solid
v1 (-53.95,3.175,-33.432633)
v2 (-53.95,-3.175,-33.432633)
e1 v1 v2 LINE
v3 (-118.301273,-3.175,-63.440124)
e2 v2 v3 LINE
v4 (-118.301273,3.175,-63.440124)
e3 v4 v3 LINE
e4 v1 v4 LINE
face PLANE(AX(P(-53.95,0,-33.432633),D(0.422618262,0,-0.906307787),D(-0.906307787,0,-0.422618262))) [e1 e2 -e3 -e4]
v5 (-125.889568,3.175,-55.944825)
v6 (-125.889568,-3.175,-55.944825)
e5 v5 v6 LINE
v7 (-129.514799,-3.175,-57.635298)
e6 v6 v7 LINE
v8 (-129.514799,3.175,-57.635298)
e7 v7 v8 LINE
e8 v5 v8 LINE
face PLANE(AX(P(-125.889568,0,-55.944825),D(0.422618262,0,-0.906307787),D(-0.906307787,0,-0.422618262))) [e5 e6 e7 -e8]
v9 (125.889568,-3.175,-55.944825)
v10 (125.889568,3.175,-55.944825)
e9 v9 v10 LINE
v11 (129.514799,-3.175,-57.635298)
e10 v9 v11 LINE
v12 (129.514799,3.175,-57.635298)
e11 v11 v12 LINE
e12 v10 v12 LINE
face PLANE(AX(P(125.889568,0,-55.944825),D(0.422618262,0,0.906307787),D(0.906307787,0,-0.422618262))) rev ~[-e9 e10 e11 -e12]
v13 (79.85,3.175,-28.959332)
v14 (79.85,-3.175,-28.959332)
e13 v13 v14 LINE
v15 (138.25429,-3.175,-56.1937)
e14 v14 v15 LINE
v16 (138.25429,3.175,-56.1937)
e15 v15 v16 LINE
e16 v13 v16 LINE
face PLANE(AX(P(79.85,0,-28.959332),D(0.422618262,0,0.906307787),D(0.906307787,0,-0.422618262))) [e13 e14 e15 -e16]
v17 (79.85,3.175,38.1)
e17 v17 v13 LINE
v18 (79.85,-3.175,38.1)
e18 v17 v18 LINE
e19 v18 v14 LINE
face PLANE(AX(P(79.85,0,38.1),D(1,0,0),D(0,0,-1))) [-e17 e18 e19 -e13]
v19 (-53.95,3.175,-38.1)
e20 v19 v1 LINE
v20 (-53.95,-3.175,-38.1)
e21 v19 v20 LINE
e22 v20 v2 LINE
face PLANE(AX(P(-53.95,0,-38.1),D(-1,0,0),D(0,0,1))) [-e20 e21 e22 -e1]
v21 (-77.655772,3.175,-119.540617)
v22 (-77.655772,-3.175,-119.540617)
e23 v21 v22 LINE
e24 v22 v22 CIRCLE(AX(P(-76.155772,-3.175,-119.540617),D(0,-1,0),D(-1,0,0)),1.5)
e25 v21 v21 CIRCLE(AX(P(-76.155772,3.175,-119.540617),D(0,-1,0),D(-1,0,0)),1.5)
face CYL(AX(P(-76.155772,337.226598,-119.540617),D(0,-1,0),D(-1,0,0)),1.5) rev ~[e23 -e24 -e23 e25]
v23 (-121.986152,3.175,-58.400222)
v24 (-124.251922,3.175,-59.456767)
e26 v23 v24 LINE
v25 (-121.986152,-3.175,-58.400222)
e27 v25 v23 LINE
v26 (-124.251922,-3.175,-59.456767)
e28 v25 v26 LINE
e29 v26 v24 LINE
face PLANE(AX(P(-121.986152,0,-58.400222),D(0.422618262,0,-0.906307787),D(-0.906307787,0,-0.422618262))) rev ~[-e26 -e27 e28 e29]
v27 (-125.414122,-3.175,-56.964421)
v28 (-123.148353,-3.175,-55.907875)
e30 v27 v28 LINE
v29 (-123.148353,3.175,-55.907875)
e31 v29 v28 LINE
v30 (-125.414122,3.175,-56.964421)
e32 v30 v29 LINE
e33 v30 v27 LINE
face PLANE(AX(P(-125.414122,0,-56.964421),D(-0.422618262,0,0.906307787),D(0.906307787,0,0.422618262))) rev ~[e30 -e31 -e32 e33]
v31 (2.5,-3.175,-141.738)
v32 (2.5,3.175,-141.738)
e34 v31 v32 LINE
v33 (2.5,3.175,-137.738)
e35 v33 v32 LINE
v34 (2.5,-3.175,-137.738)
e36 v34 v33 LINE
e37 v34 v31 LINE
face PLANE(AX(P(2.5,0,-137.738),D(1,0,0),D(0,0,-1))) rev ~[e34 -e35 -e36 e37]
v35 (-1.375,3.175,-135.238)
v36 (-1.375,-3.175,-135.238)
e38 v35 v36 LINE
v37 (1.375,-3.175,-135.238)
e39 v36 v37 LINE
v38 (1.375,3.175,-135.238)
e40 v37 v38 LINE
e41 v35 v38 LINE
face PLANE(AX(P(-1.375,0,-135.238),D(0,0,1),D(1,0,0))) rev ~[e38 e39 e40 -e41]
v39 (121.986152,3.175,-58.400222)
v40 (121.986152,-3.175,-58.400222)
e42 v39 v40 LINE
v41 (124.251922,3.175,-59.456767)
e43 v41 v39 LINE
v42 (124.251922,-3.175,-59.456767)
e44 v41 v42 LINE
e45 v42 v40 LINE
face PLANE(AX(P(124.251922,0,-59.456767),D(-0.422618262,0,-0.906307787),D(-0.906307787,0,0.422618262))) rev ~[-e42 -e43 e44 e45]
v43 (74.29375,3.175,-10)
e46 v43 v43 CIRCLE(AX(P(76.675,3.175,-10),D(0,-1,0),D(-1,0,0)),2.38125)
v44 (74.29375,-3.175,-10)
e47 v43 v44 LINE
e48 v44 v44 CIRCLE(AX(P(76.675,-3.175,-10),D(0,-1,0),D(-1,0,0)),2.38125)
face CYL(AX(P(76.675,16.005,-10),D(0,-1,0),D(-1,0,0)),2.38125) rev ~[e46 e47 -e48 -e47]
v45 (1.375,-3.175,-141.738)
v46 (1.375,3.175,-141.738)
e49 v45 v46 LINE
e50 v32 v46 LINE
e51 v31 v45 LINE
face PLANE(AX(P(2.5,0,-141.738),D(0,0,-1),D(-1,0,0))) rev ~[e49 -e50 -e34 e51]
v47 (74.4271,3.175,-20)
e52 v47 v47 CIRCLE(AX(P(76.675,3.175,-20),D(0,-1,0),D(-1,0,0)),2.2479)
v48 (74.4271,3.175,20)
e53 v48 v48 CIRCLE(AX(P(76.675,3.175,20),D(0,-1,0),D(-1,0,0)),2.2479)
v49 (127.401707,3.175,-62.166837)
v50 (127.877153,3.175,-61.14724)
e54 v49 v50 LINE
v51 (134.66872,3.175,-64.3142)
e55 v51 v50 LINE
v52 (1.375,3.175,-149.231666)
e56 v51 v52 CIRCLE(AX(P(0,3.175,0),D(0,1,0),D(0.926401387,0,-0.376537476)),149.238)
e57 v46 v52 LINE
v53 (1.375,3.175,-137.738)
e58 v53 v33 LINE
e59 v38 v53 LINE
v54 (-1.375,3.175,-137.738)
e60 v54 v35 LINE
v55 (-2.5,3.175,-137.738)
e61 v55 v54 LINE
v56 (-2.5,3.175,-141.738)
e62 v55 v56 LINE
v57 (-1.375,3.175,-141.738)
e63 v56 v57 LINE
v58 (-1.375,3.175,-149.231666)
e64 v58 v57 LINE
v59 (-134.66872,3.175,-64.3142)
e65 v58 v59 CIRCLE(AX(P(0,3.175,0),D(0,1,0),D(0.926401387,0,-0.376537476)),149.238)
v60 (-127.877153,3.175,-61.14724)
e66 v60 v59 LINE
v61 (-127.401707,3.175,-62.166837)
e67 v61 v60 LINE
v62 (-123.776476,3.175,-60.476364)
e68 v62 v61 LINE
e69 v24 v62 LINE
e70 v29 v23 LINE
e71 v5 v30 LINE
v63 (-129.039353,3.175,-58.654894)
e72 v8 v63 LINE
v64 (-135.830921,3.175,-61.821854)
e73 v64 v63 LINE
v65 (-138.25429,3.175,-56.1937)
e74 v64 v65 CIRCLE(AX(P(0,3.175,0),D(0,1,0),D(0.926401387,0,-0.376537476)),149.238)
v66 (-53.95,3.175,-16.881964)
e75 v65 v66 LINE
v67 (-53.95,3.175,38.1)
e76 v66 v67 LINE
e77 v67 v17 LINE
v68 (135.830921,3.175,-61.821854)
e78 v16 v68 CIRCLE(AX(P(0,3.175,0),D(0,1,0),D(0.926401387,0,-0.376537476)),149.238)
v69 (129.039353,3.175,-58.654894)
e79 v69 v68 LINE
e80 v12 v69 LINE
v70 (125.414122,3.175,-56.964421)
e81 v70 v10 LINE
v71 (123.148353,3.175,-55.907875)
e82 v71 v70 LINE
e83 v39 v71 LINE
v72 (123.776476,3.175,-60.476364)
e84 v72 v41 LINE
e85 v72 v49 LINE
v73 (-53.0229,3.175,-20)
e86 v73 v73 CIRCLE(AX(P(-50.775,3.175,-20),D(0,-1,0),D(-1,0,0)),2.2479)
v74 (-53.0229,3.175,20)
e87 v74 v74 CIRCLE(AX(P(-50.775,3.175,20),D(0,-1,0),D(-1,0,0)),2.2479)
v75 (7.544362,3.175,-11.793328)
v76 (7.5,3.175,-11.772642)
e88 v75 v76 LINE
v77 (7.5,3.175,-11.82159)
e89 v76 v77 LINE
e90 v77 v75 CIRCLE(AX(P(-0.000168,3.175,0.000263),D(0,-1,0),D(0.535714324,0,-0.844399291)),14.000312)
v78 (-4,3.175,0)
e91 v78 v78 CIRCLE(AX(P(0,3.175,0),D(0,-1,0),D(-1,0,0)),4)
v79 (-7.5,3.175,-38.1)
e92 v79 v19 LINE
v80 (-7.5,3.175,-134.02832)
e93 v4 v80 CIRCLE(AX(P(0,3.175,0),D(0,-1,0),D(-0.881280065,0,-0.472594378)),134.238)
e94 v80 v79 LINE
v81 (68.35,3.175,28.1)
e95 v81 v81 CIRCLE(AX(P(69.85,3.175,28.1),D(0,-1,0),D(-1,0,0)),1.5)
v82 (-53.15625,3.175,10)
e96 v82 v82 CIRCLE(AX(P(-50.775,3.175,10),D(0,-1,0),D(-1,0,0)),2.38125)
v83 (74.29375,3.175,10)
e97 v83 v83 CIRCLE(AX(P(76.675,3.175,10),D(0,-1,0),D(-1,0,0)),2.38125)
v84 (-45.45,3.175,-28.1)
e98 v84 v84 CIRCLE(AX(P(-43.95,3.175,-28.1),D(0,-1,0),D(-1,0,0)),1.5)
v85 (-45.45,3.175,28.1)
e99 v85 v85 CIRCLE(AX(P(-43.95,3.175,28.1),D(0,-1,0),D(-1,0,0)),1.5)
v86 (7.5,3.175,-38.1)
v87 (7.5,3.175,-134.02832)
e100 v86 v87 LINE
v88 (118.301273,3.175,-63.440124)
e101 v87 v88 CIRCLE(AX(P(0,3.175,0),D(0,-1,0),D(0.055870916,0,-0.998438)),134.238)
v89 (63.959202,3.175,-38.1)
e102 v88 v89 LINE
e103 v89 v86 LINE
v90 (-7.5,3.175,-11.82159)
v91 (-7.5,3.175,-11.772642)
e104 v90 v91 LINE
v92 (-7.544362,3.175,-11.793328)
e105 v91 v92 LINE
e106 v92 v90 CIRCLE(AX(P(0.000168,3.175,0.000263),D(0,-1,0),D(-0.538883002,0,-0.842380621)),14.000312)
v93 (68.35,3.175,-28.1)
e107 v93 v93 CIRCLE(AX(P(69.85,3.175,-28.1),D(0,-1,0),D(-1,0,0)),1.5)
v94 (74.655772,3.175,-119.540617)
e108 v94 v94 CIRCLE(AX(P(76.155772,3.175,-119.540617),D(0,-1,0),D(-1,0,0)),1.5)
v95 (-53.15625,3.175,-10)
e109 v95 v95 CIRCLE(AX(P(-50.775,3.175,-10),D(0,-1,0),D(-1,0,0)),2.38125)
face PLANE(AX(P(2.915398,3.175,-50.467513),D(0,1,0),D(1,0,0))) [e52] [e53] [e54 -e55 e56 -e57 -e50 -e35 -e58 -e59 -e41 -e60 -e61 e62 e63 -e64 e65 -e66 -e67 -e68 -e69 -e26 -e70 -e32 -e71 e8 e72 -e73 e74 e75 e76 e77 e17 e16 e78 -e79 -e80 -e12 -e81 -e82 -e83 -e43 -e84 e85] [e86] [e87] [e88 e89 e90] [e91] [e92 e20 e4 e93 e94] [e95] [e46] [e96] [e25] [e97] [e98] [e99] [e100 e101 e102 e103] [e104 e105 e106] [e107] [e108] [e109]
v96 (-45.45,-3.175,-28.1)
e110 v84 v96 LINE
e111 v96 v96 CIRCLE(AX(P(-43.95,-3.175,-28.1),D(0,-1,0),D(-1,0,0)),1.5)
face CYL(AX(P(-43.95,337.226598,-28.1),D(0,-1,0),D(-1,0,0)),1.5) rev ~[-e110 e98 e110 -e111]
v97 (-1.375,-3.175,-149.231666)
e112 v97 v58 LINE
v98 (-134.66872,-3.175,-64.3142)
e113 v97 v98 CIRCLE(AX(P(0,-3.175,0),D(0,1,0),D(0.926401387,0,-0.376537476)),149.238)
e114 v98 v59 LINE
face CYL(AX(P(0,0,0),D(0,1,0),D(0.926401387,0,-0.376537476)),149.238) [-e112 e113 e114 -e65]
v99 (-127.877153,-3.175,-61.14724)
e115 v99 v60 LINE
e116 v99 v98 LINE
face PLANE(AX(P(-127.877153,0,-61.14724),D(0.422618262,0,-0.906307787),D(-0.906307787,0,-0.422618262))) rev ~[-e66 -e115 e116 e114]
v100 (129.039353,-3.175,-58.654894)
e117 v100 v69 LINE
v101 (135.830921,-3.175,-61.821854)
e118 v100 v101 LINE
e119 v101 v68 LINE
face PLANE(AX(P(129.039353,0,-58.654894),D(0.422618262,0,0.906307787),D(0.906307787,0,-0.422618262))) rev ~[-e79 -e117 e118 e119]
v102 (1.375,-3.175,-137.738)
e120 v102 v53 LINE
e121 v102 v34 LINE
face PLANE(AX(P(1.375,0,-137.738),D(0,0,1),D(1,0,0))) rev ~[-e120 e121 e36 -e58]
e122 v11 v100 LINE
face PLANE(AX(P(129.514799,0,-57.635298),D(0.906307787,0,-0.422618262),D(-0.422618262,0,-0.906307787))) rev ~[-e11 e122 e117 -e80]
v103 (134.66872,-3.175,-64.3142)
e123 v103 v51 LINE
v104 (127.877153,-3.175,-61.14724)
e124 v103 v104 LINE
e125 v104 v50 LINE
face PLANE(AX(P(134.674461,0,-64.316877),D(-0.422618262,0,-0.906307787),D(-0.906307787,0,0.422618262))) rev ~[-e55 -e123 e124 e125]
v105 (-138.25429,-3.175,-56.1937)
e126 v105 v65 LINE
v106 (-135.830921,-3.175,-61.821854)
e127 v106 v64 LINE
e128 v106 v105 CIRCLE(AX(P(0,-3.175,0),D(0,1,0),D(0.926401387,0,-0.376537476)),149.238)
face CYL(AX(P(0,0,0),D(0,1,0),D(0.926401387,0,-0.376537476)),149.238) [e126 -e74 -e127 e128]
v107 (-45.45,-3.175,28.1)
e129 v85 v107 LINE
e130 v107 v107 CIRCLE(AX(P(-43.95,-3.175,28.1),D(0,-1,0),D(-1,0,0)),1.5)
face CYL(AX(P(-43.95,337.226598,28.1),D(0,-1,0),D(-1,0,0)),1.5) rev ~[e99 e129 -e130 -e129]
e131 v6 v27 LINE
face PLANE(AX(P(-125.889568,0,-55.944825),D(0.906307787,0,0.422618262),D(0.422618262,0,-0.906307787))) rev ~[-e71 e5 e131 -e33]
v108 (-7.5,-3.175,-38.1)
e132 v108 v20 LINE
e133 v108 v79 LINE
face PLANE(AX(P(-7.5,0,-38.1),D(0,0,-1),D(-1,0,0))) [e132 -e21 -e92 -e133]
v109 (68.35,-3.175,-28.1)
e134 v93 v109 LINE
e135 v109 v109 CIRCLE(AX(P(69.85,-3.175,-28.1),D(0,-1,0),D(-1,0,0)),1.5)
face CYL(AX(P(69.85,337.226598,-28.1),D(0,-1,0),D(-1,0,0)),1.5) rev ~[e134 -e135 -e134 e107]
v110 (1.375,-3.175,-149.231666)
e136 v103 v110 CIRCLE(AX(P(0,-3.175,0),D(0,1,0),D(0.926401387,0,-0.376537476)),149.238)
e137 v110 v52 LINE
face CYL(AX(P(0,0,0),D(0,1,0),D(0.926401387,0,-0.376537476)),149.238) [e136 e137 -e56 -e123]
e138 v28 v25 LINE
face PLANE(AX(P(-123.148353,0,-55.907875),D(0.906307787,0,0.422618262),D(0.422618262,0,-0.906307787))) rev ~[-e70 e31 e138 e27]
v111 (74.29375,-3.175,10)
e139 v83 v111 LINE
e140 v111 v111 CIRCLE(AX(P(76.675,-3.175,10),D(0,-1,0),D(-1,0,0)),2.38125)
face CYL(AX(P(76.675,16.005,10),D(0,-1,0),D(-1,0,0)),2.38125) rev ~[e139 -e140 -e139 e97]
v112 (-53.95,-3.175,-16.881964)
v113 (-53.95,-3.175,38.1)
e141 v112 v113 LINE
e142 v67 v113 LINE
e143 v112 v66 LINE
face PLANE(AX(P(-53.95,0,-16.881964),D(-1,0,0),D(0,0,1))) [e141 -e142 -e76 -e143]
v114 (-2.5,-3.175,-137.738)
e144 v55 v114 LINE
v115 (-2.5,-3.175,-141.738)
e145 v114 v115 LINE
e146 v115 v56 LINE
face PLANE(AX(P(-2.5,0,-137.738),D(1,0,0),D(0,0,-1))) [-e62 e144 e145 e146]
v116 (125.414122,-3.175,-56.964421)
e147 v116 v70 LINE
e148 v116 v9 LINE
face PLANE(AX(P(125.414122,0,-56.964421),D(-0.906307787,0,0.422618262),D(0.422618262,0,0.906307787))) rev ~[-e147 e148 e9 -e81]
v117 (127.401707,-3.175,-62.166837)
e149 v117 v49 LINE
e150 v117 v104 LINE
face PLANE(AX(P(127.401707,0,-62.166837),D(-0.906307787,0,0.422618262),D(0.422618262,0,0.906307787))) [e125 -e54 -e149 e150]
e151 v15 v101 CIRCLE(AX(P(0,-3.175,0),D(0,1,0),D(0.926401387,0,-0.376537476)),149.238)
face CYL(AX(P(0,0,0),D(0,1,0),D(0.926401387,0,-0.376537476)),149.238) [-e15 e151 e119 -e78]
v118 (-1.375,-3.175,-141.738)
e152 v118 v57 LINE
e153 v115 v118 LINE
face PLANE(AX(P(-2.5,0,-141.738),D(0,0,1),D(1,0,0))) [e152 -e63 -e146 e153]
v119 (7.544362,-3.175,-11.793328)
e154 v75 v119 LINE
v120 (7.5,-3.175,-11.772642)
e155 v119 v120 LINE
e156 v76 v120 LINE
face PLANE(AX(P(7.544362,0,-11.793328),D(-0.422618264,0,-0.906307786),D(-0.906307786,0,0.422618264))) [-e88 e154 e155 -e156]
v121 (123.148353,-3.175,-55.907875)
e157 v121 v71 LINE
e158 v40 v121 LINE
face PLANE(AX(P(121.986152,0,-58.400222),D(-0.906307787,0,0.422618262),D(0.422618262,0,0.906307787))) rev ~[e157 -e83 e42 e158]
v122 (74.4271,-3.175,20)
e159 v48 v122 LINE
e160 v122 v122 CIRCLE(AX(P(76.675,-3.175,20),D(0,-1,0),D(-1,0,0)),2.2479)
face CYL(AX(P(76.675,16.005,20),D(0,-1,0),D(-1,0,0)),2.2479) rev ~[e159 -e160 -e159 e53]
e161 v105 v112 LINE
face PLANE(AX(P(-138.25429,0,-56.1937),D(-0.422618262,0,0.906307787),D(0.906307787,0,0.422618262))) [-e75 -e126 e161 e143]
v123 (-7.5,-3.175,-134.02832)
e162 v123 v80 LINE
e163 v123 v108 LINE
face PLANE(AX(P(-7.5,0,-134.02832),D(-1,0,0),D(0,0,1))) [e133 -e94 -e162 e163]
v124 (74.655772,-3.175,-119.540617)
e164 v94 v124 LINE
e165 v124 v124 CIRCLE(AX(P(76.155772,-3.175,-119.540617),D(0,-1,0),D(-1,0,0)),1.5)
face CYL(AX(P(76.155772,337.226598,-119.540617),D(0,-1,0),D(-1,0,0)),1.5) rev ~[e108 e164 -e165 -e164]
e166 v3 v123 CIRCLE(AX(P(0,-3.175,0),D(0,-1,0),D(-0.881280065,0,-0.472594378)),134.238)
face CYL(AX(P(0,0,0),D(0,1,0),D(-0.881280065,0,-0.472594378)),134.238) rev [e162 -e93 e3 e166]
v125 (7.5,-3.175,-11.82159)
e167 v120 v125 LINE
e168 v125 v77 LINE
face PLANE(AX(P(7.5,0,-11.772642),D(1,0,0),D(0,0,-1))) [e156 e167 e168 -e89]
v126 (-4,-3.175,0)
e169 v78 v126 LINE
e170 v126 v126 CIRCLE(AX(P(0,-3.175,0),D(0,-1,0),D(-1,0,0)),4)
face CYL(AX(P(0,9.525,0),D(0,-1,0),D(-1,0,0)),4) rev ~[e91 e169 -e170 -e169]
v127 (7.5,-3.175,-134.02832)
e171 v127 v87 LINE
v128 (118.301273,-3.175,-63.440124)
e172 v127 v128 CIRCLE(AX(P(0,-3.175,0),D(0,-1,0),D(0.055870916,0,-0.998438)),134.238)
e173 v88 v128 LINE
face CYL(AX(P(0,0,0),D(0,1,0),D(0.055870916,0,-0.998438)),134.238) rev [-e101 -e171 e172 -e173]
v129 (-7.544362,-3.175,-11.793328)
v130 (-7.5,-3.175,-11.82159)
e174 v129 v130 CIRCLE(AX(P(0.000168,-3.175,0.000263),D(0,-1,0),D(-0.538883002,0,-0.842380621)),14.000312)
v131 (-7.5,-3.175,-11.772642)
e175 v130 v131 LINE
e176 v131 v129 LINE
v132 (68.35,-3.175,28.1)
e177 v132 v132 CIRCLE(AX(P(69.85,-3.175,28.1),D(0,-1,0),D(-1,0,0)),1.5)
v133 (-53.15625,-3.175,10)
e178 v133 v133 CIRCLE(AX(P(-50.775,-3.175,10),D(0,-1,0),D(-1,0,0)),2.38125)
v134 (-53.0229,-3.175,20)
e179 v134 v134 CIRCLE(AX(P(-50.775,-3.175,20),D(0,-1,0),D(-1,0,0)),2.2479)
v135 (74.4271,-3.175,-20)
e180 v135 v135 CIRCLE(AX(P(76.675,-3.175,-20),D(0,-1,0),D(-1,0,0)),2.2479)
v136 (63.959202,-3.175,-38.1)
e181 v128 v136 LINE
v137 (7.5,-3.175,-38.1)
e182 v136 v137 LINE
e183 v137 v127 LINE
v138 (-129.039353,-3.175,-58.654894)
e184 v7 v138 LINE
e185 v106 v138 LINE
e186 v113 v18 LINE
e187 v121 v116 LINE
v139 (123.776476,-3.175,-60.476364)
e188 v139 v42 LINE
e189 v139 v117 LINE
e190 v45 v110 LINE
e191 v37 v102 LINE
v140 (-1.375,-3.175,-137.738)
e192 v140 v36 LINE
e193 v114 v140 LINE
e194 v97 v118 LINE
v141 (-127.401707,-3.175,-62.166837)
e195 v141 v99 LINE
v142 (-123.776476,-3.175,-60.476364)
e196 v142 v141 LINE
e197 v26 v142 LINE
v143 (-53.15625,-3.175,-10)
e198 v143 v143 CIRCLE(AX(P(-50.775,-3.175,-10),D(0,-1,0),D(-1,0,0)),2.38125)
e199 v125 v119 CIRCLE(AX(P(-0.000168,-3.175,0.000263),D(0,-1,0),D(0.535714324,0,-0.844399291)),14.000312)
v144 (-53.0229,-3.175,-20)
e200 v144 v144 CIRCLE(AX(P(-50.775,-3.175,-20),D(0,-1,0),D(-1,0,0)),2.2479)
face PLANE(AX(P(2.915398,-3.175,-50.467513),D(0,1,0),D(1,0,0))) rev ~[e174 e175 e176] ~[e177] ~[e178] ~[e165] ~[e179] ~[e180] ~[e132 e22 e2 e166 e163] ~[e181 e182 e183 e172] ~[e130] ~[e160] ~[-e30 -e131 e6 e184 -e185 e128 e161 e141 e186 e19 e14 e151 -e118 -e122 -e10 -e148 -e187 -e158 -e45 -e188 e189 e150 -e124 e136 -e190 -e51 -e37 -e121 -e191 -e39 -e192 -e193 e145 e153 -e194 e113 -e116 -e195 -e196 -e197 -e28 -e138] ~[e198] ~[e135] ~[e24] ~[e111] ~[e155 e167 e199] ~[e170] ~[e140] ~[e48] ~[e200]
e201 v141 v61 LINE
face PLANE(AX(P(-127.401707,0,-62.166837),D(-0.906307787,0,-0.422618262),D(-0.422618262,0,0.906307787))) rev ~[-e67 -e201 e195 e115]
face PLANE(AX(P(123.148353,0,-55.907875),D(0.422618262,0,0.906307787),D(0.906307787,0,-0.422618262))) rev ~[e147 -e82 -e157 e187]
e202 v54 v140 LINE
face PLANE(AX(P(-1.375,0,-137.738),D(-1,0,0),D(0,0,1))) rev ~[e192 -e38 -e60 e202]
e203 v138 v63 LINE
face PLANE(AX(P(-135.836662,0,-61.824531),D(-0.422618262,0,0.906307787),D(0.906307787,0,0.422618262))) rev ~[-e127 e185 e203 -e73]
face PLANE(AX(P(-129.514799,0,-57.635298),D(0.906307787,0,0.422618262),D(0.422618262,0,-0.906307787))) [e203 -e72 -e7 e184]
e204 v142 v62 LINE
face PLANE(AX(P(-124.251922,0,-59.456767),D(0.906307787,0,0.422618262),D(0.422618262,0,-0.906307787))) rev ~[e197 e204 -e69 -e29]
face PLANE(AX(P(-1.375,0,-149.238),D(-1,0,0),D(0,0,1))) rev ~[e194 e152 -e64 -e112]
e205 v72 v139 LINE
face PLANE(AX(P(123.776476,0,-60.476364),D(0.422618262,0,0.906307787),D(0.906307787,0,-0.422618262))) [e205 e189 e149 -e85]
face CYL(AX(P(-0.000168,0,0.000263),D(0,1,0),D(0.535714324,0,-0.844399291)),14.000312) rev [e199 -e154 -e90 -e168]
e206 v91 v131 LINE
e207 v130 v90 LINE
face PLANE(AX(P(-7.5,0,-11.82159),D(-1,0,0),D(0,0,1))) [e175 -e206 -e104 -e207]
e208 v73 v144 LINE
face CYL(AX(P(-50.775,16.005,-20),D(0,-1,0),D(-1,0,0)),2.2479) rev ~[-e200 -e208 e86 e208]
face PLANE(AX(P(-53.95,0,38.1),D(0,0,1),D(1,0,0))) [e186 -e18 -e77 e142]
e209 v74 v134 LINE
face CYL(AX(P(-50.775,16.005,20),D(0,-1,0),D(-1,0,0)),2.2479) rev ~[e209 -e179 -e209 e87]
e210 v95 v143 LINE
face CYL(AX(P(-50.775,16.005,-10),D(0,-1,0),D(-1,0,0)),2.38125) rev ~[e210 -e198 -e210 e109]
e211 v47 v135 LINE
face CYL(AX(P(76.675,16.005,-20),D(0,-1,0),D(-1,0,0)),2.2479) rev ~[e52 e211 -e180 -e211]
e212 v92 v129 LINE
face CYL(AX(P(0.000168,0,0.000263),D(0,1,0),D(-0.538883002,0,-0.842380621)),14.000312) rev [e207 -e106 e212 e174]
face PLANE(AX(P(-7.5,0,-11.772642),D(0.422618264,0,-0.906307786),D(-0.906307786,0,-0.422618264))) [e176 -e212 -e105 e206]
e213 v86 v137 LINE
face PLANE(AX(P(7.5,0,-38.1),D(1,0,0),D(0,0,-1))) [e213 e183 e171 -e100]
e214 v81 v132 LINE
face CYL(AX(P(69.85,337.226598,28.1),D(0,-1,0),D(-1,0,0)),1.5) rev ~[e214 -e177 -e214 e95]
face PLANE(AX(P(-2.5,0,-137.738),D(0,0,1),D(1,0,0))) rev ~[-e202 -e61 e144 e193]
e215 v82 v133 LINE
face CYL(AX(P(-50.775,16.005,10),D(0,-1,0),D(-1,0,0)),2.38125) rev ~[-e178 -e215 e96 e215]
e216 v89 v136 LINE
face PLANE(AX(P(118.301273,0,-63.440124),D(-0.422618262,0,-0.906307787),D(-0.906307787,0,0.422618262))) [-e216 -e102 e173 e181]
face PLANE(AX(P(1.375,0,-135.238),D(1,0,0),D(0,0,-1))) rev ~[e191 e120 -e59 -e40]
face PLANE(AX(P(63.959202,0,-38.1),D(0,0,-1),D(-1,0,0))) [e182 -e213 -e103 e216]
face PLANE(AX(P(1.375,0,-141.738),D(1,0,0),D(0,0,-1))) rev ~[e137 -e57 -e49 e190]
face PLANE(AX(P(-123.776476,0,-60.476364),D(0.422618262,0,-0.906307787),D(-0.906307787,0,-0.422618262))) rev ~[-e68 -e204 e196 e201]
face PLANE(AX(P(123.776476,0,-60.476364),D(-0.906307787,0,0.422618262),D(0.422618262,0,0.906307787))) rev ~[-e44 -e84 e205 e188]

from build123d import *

# Parameters (mm, degrees)
BOSS_EXTRUDE1_DEPTH             = 3.175
SKETCH2_W                       = 2.75
SKETCH2_H                       = 2.5
SKETCH2_H_2                     = 4
SKETCH2_W_2                     = 1.125
SKETCH2_H_3                     = 7.5
CUT_EXTRUDE1_DEPTH              = 204.460831631
CIRPATTERN1_COUNT               = 2
CIRPATTERN1_ANGLE               = 65
CIRPATTERN1_THE_OTHER_WAY_COUNT = 2
CIRPATTERN1_THE_OTHER_WAY_ANGLE = 65
F_3_0_3_DIAMETER_HOLE1_D        = 3
F_8_0_8_DIAMETER_HOLE1_D        = 8
F_8_0_8_DIAMETER_HOLE1_DEPTH    = 6.35
F_8_CLEARANCE_HOLE1_D           = 4.4958
F_8_CLEARANCE_HOLE1_DEPTH       = 12.83
F_8_CLEARANCE_HOLE1_TIP         = 1.350674586
F_3_16_0_1875_DOWEL_HOLE1_D     = 4.7625
F_3_16_0_1875_DOWEL_HOLE1_DEPTH = 12.83
F_3_16_0_1875_DOWEL_HOLE1_TIP   = 1.430799349


with BuildPart() as part:
    # Sketch1 → Boss-Extrude1 (new, symmetric)
    with BuildSketch(Plane(origin=(0, 0, 0), x_dir=(1, 0, 0), z_dir=(0, 1, 0))):
        with BuildLine():
            Line((79.85, 28.959332111), (138.254290129, 56.193699868))
            ThreePointArc((138.254290129, 56.193699868), (0, 149.238), (-138.254290129, 56.193699868))
            Line((-138.254290129, 56.193699868), (-53.95, 16.881963765))
            Line((-53.95, 16.881963765), (-53.95, -38.1))
            Line((-53.95, -38.1), (79.85, -38.1))
            Line((79.85, -38.1), (79.85, 28.959332111))
        make_face()
        with BuildLine():
            Line((-7.5, 11.821590418), (-7.5, 11.772641828))
            Line((-7.5, 11.772641828), (-7.544362488, 11.793328396))
            ThreePointArc((-7.544362488, 11.793328396), (-7.522194517, 11.807480241), (-7.5, 11.821590418))
        make_face(mode=Mode.SUBTRACT)
        with BuildLine():
            ThreePointArc((7.5, 11.821590418), (7.522194517, 11.807480241), (7.544362488, 11.793328396))
            Line((7.544362488, 11.793328396), (7.5, 11.772641828))
            Line((7.5, 11.772641828), (7.5, 11.821590418))
        make_face(mode=Mode.SUBTRACT)
        with BuildLine():
            Line((-7.5, 134.028320306), (-7.5, 38.1))
            Line((-7.5, 38.1), (-53.95, 38.1))
            Line((-53.95, 38.1), (-53.95, 33.43263255))
            Line((-53.95, 33.43263255), (-118.301273414, 63.440124154))
            ThreePointArc((-118.301273414, 63.440124154), (-72.126024825, 113.215180903), (-7.5, 134.028320306))
        make_face(mode=Mode.SUBTRACT)
        with BuildLine():
            ThreePointArc((7.5, 134.028320306), (72.126024825, 113.215180903), (118.301273414, 63.440124154))
            Line((118.301273414, 63.440124154), (63.959201798, 38.1))
            Line((63.959201798, 38.1), (7.5, 38.1))
            Line((7.5, 38.1), (7.5, 134.028320306))
        make_face(mode=Mode.SUBTRACT)
    extrude(amount=BOSS_EXTRUDE1_DEPTH, both=True)

    # Sketch2 → Cut-Extrude1 (cut, symmetric)
    with BuildSketch(Plane(origin=(0, 0, 0), x_dir=(1, 0, 0), z_dir=(0, 1, 0))):
        with Locations((0, 136.488)):
            Rectangle(SKETCH2_W, SKETCH2_H)
        with Locations((0, 139.738)):
            Rectangle(SKETCH2_W, SKETCH2_H_2)
        with Locations((1.9375, 139.738)):
            Rectangle(SKETCH2_W_2, SKETCH2_H_2)
        with Locations((0, 145.488)):
            Rectangle(SKETCH2_W, SKETCH2_H_3)
        with Locations((-1.9375, 139.738)):
            Rectangle(SKETCH2_W_2, SKETCH2_H_2)
    cut_extrude1 = extrude(amount=CUT_EXTRUDE1_DEPTH, both=True, mode=Mode.SUBTRACT)

    # CirPattern1: Cut-Extrude1 ×2 about axis
    cirpattern1_axis = Axis((0, 0, 0), (0, 1, 0))
    for i in range(1, CIRPATTERN1_COUNT):
        add(cut_extrude1.rotate(cirpattern1_axis, i * CIRPATTERN1_ANGLE / (CIRPATTERN1_COUNT - 1)), mode=Mode.SUBTRACT)

    # CirPattern1 the other way: Cut-Extrude1 ×2 about axis
    cirpattern1_the_other_way_axis = Axis((0, 0, 0), (0, -1, 0))
    for i in range(1, CIRPATTERN1_THE_OTHER_WAY_COUNT):
        add(cut_extrude1.rotate(cirpattern1_the_other_way_axis, i * CIRPATTERN1_THE_OTHER_WAY_ANGLE / (CIRPATTERN1_THE_OTHER_WAY_COUNT - 1)), mode=Mode.SUBTRACT)

    # Ø3.0 (3) Diameter Hole1 (through all)
    with Locations(Plane(origin=(0, 3.175, 0), x_dir=(1, 0, 0), z_dir=(0, 1, 0))):
        with Locations((0, 0), (-76.155771888, 119.540616747), (76.155771888, 119.540616747), (69.85, 28.1), (69.85, -28.1), (-43.95, -28.1), (-43.95, 28.1)):
            Hole(F_3_0_3_DIAMETER_HOLE1_D / 2)

    # Ø8.0 (8) Diameter Hole1
    with Locations(Plane(origin=(0, 3.175, 0), x_dir=(1, 0, 0), z_dir=(0, 1, 0))):
        with Locations((0, 0)):
            Hole(F_8_0_8_DIAMETER_HOLE1_D / 2, depth=F_8_0_8_DIAMETER_HOLE1_DEPTH)

    # #8 Clearance Hole1
    with Locations(Plane(origin=(0, 3.175, 0), x_dir=(1, 0, 0), z_dir=(0, 1, 0))):
        with Locations((-50.775, -20), (-50.775, 20), (76.675, -20), (76.675, 20)):
            Hole(F_8_CLEARANCE_HOLE1_D / 2, depth=F_8_CLEARANCE_HOLE1_DEPTH)
            with Locations((0, 0, -(F_8_CLEARANCE_HOLE1_DEPTH + F_8_CLEARANCE_HOLE1_TIP / 2))):  # 118° drill point
                Cone(0, F_8_CLEARANCE_HOLE1_D / 2, F_8_CLEARANCE_HOLE1_TIP, mode=Mode.SUBTRACT)

    # 3/16 (0.1875) Dowel Hole1
    with Locations(Plane(origin=(0, 3.175, 0), x_dir=(1, 0, 0), z_dir=(0, 1, 0))):
        with Locations((-50.775, -10), (-50.775, 10), (76.675, -10), (76.675, 10)):
            Hole(F_3_16_0_1875_DOWEL_HOLE1_D / 2, depth=F_3_16_0_1875_DOWEL_HOLE1_DEPTH)
            with Locations((0, 0, -(F_3_16_0_1875_DOWEL_HOLE1_DEPTH + F_3_16_0_1875_DOWEL_HOLE1_TIP / 2))):  # 118° drill point
                Cone(0, F_3_16_0_1875_DOWEL_HOLE1_D / 2, F_3_16_0_1875_DOWEL_HOLE1_TIP, mode=Mode.SUBTRACT)


solid = part.part
